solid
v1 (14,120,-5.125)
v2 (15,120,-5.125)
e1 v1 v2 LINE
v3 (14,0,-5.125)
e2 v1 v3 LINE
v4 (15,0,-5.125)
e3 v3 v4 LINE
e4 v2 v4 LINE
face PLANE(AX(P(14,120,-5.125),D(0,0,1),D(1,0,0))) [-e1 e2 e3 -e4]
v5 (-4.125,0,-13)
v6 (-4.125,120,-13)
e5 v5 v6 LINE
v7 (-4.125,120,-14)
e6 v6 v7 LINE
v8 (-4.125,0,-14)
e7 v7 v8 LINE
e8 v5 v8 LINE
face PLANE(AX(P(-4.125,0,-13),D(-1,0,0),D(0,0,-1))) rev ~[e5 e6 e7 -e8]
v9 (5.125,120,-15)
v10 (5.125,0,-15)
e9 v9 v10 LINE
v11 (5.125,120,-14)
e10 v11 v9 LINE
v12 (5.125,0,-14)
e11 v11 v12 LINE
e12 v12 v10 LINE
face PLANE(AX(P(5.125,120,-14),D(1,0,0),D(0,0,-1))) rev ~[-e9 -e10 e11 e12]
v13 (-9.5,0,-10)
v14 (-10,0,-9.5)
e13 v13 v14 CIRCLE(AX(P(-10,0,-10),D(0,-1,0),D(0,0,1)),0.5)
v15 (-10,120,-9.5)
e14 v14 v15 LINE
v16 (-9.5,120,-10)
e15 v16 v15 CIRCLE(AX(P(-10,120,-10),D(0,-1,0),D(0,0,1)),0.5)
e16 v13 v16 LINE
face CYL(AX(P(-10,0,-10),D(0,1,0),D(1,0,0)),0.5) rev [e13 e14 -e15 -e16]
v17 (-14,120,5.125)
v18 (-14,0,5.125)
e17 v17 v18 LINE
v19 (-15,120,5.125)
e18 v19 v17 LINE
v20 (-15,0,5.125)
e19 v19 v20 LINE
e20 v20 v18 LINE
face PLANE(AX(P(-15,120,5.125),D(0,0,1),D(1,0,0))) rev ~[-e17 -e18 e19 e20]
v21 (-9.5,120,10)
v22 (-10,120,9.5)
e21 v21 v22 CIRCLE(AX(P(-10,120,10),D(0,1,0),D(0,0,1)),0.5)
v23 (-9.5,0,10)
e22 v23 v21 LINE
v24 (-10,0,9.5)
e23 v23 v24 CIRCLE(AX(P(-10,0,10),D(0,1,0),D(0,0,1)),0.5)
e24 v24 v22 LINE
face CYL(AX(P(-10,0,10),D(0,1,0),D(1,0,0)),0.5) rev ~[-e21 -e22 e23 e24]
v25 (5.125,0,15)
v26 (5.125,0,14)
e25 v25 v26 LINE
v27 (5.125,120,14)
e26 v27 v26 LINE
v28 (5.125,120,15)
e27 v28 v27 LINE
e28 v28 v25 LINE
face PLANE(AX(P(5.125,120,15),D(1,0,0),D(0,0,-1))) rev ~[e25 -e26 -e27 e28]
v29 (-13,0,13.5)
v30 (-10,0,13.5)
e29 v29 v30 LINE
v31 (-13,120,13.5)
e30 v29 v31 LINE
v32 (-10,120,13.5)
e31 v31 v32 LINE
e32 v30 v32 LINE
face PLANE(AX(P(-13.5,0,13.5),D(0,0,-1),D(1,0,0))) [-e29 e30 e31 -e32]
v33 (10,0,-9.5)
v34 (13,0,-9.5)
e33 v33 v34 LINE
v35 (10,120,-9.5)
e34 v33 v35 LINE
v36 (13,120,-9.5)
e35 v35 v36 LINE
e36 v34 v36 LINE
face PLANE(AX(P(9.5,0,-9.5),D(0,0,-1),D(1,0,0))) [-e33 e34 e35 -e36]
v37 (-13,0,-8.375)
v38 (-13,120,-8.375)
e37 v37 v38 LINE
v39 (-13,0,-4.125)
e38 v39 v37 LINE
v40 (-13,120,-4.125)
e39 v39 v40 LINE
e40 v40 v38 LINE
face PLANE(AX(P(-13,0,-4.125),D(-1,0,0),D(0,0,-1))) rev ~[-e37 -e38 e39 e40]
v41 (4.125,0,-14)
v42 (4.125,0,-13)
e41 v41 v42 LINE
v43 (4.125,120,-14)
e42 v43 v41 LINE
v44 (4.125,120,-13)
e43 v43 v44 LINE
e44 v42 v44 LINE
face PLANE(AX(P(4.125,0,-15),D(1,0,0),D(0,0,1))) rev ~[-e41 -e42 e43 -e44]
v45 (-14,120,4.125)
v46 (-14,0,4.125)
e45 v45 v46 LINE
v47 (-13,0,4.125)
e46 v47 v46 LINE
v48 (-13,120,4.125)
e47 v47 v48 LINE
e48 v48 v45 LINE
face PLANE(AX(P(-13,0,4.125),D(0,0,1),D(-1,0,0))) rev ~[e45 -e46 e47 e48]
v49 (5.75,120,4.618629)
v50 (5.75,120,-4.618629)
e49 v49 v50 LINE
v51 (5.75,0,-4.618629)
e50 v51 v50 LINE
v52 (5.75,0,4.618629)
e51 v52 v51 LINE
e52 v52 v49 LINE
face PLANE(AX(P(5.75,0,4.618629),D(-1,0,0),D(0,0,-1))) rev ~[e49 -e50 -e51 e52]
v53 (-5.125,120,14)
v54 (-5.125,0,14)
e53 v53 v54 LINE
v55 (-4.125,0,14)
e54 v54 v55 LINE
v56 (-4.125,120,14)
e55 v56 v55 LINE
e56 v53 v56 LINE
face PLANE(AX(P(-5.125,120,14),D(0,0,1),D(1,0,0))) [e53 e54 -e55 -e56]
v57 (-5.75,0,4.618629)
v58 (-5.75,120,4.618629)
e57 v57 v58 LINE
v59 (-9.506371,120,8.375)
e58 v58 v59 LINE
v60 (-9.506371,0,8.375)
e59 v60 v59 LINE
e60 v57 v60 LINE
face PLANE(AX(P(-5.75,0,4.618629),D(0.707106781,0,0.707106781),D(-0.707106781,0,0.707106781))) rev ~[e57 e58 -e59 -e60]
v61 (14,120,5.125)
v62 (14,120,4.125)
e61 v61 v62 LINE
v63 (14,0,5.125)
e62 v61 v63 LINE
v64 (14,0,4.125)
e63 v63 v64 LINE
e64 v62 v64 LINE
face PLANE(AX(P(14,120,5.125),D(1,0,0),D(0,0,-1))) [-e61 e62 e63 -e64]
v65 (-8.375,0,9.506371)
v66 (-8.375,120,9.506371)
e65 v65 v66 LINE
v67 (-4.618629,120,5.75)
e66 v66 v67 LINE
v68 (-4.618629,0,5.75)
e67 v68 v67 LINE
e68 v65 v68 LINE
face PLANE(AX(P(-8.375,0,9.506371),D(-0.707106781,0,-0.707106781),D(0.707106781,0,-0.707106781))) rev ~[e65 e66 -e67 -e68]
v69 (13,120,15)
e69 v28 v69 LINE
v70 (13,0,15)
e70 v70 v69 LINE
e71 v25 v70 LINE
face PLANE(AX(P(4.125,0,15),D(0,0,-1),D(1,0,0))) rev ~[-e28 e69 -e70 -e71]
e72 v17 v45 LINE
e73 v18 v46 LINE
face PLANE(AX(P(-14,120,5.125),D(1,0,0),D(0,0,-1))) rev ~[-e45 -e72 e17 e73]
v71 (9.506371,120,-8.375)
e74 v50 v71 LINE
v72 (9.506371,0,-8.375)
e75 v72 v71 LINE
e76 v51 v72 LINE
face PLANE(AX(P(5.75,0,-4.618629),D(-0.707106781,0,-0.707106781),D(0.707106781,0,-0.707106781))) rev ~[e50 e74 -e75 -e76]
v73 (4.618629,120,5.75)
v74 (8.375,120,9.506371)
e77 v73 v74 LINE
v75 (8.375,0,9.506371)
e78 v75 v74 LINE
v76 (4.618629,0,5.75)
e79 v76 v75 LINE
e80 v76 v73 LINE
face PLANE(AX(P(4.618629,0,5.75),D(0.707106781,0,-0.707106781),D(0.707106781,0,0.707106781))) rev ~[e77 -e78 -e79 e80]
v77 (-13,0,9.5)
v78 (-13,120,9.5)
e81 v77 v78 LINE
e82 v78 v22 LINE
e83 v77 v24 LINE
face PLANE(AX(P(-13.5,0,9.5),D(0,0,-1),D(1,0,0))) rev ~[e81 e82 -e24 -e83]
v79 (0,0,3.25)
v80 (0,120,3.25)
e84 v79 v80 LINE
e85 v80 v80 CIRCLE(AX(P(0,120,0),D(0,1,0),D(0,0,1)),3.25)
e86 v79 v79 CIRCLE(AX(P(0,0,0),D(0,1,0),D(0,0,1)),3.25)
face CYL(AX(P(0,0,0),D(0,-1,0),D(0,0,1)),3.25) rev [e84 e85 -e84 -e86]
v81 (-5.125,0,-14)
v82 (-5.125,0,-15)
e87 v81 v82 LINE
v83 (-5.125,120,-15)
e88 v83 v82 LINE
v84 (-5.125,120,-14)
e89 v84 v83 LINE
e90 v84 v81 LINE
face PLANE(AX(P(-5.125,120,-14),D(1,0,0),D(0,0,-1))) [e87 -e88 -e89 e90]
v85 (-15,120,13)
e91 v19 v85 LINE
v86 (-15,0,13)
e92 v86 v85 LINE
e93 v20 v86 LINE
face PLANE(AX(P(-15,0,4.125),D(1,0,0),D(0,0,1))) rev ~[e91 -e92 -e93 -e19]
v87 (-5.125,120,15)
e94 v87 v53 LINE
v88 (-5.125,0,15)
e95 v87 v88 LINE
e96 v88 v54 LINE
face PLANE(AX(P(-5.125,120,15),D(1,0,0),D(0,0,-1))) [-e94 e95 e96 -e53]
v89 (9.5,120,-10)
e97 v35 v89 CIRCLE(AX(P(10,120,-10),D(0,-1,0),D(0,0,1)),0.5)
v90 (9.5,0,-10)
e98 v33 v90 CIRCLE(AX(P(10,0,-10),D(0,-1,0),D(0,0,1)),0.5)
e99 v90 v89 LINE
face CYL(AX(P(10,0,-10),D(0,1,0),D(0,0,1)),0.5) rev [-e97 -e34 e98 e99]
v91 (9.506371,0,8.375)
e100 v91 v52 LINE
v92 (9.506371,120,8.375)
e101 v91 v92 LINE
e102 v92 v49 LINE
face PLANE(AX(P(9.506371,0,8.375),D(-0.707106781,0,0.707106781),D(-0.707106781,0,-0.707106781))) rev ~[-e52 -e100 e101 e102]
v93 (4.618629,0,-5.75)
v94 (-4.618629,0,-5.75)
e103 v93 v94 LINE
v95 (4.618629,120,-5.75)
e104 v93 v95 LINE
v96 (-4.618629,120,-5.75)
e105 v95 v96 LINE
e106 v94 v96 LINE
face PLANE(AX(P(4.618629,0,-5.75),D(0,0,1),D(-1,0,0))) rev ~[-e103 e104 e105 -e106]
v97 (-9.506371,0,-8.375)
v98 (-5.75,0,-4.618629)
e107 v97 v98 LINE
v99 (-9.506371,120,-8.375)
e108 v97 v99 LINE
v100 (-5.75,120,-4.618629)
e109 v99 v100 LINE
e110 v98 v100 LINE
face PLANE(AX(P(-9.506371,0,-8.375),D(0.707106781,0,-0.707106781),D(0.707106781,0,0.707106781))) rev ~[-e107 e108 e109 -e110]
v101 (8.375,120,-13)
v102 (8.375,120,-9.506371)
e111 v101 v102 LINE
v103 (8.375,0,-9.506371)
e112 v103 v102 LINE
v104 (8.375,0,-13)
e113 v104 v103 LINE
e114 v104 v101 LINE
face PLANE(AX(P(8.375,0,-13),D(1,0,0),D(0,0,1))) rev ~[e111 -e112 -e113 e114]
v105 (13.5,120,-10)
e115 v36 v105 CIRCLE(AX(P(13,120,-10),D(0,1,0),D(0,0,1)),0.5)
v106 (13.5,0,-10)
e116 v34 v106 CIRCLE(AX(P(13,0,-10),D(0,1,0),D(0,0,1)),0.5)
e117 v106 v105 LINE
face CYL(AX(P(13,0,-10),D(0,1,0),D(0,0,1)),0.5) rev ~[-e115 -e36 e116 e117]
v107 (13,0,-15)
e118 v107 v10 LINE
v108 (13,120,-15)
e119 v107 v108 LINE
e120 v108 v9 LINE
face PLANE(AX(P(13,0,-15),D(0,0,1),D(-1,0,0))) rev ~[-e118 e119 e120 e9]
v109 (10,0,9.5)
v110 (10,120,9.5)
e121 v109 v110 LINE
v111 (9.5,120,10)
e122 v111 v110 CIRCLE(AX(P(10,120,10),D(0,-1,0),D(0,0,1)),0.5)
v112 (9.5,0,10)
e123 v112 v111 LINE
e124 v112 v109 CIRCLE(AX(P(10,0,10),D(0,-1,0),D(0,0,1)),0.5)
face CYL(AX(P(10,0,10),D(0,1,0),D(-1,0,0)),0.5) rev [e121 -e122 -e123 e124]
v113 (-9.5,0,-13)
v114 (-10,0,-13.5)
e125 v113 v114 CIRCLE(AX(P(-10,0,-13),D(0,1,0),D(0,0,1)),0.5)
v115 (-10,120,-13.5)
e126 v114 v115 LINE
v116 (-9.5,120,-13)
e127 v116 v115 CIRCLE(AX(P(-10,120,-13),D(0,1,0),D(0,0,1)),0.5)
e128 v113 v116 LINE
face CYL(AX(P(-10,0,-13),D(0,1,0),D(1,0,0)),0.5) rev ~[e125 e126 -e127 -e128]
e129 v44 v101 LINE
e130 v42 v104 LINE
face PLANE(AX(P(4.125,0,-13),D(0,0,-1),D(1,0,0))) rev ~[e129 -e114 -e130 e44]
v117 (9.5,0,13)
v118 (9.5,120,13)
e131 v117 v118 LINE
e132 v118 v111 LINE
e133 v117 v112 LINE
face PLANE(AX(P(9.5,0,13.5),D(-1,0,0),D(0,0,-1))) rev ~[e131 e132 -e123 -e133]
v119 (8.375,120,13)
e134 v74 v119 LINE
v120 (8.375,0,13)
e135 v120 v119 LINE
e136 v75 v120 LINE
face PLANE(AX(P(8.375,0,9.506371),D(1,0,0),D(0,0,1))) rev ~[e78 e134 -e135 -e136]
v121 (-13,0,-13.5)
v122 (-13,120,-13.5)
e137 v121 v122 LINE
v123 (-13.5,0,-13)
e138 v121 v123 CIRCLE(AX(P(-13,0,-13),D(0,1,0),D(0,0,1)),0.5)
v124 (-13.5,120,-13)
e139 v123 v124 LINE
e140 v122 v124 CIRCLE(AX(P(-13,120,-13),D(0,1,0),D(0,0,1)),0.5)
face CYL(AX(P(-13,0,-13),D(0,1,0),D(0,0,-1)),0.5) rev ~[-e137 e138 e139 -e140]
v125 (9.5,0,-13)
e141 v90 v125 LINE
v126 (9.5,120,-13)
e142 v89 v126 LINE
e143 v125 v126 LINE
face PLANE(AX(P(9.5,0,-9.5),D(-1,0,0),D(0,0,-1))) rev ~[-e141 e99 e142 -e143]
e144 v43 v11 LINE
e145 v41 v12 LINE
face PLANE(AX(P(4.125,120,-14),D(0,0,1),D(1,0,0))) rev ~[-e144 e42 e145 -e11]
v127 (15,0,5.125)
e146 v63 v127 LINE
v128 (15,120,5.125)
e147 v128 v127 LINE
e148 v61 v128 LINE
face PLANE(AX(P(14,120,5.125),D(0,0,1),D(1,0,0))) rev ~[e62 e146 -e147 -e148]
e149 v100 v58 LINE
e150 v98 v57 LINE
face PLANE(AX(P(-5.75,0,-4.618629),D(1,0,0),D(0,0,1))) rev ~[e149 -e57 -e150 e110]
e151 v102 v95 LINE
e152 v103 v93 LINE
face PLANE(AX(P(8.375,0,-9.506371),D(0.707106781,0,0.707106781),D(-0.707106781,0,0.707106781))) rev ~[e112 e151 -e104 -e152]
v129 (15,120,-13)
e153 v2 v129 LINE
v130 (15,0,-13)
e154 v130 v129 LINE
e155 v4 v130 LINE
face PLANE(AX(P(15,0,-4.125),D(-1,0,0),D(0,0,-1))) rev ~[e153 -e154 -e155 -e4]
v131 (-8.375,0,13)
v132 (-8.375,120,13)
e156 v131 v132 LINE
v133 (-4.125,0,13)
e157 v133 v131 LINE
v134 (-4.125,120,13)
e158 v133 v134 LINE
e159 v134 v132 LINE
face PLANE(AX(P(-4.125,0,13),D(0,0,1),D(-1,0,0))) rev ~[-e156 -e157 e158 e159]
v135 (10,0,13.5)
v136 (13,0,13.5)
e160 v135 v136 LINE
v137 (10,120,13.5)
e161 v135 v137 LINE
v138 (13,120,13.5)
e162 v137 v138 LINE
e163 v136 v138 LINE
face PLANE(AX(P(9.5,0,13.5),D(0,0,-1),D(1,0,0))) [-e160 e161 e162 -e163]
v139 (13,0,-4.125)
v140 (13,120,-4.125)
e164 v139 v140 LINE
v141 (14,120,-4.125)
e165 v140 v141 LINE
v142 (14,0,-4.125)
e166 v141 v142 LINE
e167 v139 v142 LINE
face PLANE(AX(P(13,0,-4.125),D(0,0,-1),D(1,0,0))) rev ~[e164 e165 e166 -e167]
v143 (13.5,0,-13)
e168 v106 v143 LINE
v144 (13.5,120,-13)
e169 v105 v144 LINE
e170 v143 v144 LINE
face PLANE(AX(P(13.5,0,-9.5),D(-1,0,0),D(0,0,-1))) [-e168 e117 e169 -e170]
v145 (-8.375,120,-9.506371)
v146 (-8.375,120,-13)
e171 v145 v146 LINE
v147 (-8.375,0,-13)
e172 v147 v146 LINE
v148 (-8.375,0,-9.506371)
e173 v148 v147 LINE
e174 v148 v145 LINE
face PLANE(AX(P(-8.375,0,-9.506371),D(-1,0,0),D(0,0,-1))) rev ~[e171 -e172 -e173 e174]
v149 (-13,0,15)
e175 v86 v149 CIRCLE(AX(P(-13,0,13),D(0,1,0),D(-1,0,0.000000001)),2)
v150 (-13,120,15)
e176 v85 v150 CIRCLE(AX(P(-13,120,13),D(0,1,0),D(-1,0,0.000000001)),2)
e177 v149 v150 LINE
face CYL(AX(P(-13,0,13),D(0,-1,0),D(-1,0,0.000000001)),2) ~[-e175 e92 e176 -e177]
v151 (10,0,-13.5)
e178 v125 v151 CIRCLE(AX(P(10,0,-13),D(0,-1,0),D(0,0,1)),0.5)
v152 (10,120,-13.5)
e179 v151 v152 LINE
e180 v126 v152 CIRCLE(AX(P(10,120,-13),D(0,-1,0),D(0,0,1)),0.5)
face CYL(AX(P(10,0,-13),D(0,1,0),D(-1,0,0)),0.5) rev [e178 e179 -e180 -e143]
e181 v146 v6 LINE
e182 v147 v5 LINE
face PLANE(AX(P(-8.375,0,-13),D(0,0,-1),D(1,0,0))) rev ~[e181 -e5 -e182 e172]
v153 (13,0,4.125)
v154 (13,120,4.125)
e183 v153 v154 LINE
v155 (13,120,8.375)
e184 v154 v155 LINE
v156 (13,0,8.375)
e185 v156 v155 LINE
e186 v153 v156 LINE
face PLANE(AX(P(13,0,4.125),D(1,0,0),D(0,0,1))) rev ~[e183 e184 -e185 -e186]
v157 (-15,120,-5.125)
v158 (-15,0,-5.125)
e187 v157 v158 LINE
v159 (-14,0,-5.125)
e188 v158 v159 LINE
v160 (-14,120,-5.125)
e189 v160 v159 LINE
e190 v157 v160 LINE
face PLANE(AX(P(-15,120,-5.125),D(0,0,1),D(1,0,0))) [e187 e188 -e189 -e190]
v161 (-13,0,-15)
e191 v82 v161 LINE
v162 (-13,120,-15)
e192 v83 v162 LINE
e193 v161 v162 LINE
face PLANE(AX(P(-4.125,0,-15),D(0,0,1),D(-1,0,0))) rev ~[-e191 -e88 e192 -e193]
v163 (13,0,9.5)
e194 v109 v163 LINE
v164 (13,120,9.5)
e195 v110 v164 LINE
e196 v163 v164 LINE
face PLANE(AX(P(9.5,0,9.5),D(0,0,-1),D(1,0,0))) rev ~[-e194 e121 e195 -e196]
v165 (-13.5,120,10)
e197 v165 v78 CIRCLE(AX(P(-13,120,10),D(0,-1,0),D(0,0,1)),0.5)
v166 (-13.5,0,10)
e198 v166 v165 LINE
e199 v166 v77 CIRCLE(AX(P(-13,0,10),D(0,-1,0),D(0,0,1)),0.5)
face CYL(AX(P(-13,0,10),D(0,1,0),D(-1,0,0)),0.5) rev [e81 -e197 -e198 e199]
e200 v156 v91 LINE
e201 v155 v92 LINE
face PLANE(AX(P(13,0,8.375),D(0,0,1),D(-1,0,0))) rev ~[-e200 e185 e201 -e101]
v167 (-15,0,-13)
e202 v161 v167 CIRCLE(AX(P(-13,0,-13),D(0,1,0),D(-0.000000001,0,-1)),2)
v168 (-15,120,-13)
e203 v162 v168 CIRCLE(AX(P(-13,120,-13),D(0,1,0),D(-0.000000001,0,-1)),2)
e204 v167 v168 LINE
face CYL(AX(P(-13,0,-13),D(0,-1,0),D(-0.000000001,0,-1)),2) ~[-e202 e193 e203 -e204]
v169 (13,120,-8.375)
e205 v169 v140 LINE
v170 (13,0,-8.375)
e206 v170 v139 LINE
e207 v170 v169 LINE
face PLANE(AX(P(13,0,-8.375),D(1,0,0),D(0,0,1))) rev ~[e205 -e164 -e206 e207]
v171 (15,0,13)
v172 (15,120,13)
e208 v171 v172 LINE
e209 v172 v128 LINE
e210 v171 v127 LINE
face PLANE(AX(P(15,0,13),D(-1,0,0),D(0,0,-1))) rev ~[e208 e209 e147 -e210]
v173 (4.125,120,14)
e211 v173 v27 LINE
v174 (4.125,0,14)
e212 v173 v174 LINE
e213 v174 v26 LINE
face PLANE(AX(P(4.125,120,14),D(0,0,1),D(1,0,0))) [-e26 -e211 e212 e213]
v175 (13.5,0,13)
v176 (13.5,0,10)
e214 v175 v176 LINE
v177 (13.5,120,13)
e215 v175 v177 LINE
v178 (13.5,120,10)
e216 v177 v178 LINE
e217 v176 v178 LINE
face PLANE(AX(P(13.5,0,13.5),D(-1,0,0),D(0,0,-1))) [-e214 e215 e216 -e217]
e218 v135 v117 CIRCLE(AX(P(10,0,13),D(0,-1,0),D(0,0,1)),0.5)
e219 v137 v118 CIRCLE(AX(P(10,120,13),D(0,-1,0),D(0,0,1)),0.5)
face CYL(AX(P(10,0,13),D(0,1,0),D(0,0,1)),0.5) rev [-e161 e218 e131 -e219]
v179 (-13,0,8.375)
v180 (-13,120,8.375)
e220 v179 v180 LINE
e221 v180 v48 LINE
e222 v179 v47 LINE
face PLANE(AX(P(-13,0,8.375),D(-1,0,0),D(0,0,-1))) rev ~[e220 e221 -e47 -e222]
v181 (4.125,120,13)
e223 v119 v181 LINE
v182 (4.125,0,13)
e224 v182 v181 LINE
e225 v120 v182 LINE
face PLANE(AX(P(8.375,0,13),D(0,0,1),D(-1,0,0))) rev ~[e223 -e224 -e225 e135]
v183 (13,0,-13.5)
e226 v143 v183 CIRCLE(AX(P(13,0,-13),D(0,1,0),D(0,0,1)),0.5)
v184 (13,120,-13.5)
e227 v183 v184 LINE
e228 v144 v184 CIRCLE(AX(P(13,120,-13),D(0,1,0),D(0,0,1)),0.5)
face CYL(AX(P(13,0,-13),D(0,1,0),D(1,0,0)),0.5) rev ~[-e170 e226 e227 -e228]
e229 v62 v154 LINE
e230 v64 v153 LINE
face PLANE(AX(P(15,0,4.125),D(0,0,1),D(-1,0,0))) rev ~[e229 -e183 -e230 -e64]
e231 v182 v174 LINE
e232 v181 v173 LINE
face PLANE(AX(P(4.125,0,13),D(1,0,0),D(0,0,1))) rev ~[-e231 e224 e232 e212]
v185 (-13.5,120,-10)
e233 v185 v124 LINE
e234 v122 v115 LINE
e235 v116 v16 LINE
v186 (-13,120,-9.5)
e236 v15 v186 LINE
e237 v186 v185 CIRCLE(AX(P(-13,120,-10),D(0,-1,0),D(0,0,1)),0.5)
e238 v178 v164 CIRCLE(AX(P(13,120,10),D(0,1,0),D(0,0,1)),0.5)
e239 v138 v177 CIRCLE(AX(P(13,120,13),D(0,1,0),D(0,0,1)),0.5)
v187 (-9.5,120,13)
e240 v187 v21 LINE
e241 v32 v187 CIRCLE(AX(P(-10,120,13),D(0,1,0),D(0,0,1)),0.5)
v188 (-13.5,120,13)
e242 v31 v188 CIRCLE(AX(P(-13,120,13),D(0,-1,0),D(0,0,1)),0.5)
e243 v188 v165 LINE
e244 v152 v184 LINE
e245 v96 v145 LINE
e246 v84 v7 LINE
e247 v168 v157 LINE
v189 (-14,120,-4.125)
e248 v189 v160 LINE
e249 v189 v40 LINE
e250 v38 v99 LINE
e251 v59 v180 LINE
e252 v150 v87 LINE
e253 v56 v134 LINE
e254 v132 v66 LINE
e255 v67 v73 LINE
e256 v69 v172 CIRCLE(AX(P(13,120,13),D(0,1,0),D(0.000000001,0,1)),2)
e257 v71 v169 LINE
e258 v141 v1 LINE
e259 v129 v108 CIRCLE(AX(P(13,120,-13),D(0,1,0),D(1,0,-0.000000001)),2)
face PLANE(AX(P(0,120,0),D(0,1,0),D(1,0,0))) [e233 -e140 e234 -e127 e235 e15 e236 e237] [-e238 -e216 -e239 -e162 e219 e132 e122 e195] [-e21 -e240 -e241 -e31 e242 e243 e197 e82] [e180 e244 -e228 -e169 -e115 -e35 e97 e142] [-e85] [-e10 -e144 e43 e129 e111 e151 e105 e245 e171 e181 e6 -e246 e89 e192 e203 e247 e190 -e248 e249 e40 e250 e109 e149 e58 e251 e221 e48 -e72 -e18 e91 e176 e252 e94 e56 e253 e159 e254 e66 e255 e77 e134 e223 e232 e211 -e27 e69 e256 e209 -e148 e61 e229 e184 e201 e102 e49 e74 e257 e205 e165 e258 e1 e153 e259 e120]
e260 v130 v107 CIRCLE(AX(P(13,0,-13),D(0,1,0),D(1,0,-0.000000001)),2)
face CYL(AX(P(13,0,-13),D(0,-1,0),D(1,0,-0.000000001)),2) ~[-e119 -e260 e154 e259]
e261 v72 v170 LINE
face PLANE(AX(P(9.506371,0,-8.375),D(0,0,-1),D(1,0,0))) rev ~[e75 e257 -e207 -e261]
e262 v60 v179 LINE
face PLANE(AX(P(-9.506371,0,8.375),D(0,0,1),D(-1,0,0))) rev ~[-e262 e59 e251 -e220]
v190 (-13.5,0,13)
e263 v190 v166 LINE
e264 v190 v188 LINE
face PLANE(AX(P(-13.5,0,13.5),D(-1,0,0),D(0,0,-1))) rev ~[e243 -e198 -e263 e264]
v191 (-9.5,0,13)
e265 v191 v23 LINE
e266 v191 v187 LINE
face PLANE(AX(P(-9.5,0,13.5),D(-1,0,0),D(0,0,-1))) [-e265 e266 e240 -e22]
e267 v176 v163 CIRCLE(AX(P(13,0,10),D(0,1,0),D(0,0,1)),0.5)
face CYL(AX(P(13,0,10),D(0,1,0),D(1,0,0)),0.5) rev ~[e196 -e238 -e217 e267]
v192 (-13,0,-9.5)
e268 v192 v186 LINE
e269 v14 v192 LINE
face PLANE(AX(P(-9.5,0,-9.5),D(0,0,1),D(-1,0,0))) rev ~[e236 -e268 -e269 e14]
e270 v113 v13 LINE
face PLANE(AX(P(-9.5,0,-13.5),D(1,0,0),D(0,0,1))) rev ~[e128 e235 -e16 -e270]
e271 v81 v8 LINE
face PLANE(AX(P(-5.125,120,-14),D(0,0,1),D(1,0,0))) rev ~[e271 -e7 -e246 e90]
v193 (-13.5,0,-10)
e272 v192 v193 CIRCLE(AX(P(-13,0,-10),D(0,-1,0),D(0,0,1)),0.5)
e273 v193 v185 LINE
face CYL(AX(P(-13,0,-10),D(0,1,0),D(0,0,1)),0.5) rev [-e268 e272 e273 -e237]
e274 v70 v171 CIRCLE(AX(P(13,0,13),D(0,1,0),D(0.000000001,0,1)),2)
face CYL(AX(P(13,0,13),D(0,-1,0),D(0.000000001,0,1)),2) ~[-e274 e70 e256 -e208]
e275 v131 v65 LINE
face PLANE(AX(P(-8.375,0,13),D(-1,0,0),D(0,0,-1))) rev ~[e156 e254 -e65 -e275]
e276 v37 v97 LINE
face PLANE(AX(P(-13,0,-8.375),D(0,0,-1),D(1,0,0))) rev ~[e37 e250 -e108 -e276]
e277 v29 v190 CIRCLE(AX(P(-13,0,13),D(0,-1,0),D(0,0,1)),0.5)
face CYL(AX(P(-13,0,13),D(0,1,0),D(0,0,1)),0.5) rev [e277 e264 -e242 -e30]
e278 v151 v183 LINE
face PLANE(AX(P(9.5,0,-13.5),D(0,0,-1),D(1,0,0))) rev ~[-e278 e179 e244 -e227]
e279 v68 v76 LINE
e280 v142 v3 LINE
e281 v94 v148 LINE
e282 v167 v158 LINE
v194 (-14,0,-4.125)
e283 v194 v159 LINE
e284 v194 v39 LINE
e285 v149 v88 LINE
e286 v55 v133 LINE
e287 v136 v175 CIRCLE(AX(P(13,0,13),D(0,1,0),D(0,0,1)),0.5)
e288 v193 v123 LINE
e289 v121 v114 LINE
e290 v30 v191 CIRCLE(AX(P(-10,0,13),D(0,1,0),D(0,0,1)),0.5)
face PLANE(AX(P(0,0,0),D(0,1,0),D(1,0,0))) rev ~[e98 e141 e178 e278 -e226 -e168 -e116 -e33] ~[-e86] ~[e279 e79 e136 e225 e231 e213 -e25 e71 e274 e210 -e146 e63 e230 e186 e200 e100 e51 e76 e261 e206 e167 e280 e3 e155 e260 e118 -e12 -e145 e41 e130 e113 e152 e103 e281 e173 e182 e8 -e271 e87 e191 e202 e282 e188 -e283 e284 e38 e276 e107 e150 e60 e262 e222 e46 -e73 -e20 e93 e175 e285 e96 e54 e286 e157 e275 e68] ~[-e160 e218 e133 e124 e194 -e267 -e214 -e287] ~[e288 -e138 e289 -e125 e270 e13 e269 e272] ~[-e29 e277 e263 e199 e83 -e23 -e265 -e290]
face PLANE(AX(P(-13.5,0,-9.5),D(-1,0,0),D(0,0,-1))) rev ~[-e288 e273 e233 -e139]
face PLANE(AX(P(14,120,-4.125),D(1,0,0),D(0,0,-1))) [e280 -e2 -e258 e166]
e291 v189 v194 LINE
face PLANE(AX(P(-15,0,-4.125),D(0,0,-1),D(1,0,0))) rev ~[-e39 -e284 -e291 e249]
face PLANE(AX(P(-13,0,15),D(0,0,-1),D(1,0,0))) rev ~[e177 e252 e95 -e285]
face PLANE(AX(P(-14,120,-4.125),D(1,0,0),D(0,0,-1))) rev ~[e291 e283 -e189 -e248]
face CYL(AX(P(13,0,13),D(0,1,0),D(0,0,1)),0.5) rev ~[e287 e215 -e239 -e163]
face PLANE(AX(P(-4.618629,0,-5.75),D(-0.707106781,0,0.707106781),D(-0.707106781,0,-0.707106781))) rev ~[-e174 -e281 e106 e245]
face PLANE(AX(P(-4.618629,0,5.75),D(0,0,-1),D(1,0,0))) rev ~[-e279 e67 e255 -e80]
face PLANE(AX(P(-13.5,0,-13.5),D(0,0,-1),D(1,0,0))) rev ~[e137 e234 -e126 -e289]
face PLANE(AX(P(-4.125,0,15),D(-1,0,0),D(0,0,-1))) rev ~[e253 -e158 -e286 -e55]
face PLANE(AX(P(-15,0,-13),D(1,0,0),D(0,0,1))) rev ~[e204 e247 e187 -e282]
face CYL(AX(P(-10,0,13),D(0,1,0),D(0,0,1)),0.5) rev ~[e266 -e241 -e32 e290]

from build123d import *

# Parameters (mm, degrees)
SKETCH1_W           = 4
SKETCH1_H           = 4
SKETCH1_R           = 3.25
BOSS_EXTRUDE1_DEPTH = 120
SKETCH2_W           = 1
SKETCH2_H           = 1
CUT_EXTRUDE1_DEPTH  = 122.86057607
FILLET1_R           = 0.5


with BuildPart() as part:
    # Sketch1 → Boss-Extrude1 (new body)
    with BuildSketch(Plane(origin=(0, 0, 0), x_dir=(1, 0, 0), z_dir=(0, 1, 0))):
        with BuildLine():
            Line((-8.375, 9.50637085), (-8.375, 13))
            Line((-8.375, 13), (-4.125, 13))
            Line((-4.125, 13), (-4.125, 15))
            Line((-4.125, 15), (-13, 15))
            ThreePointArc((-13, 15), (-14.414213562, 14.414213562), (-15, 13))
            Line((-15, 13), (-15, 4.125))
            Line((-15, 4.125), (-13, 4.125))
            Line((-13, 4.125), (-13, 8.375))
            Line((-13, 8.375), (-9.50637085, 8.375))
            Line((-9.50637085, 8.375), (-5.75, 4.61862915))
            Line((-5.75, 4.61862915), (-5.75, -4.61862915))
            Line((-5.75, -4.61862915), (-9.50637085, -8.375))
            Line((-9.50637085, -8.375), (-13, -8.375))
            Line((-13, -8.375), (-13, -4.125))
            Line((-13, -4.125), (-15, -4.125))
            Line((-15, -4.125), (-15, -13))
            ThreePointArc((-15, -13), (-14.414213562, -14.414213562), (-13, -15))
            Line((-13, -15), (-4.125, -15))
            Line((-4.125, -15), (-4.125, -13))
            Line((-4.125, -13), (-8.375, -13))
            Line((-8.375, -13), (-8.375, -9.50637085))
            Line((-8.375, -9.50637085), (-4.61862915, -5.75))
            Line((-4.61862915, -5.75), (4.61862915, -5.75))
            Line((4.61862915, -5.75), (8.375, -9.50637085))
            Line((8.375, -9.50637085), (8.375, -13))
            Line((8.375, -13), (4.125, -13))
            Line((4.125, -13), (4.125, -15))
            Line((4.125, -15), (13, -15))
            ThreePointArc((13, -15), (14.414213562, -14.414213562), (15, -13))
            Line((15, -13), (15, -4.125))
            Line((15, -4.125), (13, -4.125))
            Line((13, -4.125), (13, -8.375))
            Line((13, -8.375), (9.50637085, -8.375))
            Line((9.50637085, -8.375), (5.75, -4.61862915))
            Line((5.75, -4.61862915), (5.75, 4.61862915))
            Line((5.75, 4.61862915), (9.50637085, 8.375))
            Line((9.50637085, 8.375), (13, 8.375))
            Line((13, 8.375), (13, 4.125))
            Line((13, 4.125), (15, 4.125))
            Line((15, 4.125), (15, 13))
            ThreePointArc((15, 13), (14.414213562, 14.414213562), (13, 15))
            Line((13, 15), (4.125, 15))
            Line((4.125, 15), (4.125, 13))
            Line((4.125, 13), (8.375, 13))
            Line((8.375, 13), (8.375, 9.50637085))
            Line((8.375, 9.50637085), (4.61862915, 5.75))
            Line((4.61862915, 5.75), (-4.61862915, 5.75))
            Line((-4.61862915, 5.75), (-8.375, 9.50637085))
        make_face()
        with Locations((-11.5, -11.5)):
            Rectangle(SKETCH1_W, SKETCH1_H, mode=Mode.SUBTRACT)
        with Locations((11.5, -11.5)):
            Rectangle(SKETCH1_W, SKETCH1_H, mode=Mode.SUBTRACT)
        Polygon((-9.5, 9.5), (-10.63137085, 9.5), (-13.5, 9.5), (-13.5, 13.5), (-9.5, 13.5), align=None, mode=Mode.SUBTRACT)
        with Locations(Location((0, 0, 0), (0, 0, 270))):
            Circle(SKETCH1_R, mode=Mode.SUBTRACT)
        with Locations((11.5, 11.5)):
            Rectangle(SKETCH1_W, SKETCH1_H, mode=Mode.SUBTRACT)
    extrude(amount=BOSS_EXTRUDE1_DEPTH)

    # Sketch2 → Cut-Extrude1 (cut, through all)
    with BuildSketch(Plane(origin=(0, 120, 0), x_dir=(1, 0, 0), z_dir=(0, 1, 0))):
        with Locations((14.5, 4.625)):
            Rectangle(SKETCH2_W, SKETCH2_H)
        with Locations((-4.625, 14.5)):
            Rectangle(SKETCH2_W, SKETCH2_H)
        with Locations((4.625, 14.5)):
            Rectangle(SKETCH2_W, SKETCH2_H)
        with Locations((14.5, -4.625)):
            Rectangle(SKETCH2_W, SKETCH2_H)
        with Locations((4.625, -14.5)):
            Rectangle(SKETCH2_W, SKETCH2_H)
        with Locations((-4.625, -14.5)):
            Rectangle(SKETCH2_W, SKETCH2_H)
        with Locations((-14.5, -4.625)):
            Rectangle(SKETCH2_W, SKETCH2_H)
        with Locations((-14.5, 4.625)):
            Rectangle(SKETCH2_W, SKETCH2_H)
    extrude(amount=-CUT_EXTRUDE1_DEPTH, mode=Mode.SUBTRACT)

    # Fillet1
    fillet1_edges = [part.edges().sort_by_distance(p)[0] for p in [
        (-9.5, 60, -13.5),
        (-13.5, 60, -13.5),
        (-13.5, 60, -9.5),
        (-9.5, 60, -9.5),
        (-9.5, 60, 9.5),
        (-13.5, 60, 9.5),
        (-13.5, 60, 13.5),
        (-9.5, 60, 13.5),
        (9.5, 60, -9.5),
        (13.5, 60, -9.5),
        (13.5, 60, -13.5),
        (9.5, 60, -13.5),
        (13.5, 60, 13.5),
        (13.5, 60, 9.5),
        (9.5, 60, 9.5),
        (9.5, 60, 13.5),
    ]]
    fillet(fillet1_edges, radius=FILLET1_R)


solid = part.part
